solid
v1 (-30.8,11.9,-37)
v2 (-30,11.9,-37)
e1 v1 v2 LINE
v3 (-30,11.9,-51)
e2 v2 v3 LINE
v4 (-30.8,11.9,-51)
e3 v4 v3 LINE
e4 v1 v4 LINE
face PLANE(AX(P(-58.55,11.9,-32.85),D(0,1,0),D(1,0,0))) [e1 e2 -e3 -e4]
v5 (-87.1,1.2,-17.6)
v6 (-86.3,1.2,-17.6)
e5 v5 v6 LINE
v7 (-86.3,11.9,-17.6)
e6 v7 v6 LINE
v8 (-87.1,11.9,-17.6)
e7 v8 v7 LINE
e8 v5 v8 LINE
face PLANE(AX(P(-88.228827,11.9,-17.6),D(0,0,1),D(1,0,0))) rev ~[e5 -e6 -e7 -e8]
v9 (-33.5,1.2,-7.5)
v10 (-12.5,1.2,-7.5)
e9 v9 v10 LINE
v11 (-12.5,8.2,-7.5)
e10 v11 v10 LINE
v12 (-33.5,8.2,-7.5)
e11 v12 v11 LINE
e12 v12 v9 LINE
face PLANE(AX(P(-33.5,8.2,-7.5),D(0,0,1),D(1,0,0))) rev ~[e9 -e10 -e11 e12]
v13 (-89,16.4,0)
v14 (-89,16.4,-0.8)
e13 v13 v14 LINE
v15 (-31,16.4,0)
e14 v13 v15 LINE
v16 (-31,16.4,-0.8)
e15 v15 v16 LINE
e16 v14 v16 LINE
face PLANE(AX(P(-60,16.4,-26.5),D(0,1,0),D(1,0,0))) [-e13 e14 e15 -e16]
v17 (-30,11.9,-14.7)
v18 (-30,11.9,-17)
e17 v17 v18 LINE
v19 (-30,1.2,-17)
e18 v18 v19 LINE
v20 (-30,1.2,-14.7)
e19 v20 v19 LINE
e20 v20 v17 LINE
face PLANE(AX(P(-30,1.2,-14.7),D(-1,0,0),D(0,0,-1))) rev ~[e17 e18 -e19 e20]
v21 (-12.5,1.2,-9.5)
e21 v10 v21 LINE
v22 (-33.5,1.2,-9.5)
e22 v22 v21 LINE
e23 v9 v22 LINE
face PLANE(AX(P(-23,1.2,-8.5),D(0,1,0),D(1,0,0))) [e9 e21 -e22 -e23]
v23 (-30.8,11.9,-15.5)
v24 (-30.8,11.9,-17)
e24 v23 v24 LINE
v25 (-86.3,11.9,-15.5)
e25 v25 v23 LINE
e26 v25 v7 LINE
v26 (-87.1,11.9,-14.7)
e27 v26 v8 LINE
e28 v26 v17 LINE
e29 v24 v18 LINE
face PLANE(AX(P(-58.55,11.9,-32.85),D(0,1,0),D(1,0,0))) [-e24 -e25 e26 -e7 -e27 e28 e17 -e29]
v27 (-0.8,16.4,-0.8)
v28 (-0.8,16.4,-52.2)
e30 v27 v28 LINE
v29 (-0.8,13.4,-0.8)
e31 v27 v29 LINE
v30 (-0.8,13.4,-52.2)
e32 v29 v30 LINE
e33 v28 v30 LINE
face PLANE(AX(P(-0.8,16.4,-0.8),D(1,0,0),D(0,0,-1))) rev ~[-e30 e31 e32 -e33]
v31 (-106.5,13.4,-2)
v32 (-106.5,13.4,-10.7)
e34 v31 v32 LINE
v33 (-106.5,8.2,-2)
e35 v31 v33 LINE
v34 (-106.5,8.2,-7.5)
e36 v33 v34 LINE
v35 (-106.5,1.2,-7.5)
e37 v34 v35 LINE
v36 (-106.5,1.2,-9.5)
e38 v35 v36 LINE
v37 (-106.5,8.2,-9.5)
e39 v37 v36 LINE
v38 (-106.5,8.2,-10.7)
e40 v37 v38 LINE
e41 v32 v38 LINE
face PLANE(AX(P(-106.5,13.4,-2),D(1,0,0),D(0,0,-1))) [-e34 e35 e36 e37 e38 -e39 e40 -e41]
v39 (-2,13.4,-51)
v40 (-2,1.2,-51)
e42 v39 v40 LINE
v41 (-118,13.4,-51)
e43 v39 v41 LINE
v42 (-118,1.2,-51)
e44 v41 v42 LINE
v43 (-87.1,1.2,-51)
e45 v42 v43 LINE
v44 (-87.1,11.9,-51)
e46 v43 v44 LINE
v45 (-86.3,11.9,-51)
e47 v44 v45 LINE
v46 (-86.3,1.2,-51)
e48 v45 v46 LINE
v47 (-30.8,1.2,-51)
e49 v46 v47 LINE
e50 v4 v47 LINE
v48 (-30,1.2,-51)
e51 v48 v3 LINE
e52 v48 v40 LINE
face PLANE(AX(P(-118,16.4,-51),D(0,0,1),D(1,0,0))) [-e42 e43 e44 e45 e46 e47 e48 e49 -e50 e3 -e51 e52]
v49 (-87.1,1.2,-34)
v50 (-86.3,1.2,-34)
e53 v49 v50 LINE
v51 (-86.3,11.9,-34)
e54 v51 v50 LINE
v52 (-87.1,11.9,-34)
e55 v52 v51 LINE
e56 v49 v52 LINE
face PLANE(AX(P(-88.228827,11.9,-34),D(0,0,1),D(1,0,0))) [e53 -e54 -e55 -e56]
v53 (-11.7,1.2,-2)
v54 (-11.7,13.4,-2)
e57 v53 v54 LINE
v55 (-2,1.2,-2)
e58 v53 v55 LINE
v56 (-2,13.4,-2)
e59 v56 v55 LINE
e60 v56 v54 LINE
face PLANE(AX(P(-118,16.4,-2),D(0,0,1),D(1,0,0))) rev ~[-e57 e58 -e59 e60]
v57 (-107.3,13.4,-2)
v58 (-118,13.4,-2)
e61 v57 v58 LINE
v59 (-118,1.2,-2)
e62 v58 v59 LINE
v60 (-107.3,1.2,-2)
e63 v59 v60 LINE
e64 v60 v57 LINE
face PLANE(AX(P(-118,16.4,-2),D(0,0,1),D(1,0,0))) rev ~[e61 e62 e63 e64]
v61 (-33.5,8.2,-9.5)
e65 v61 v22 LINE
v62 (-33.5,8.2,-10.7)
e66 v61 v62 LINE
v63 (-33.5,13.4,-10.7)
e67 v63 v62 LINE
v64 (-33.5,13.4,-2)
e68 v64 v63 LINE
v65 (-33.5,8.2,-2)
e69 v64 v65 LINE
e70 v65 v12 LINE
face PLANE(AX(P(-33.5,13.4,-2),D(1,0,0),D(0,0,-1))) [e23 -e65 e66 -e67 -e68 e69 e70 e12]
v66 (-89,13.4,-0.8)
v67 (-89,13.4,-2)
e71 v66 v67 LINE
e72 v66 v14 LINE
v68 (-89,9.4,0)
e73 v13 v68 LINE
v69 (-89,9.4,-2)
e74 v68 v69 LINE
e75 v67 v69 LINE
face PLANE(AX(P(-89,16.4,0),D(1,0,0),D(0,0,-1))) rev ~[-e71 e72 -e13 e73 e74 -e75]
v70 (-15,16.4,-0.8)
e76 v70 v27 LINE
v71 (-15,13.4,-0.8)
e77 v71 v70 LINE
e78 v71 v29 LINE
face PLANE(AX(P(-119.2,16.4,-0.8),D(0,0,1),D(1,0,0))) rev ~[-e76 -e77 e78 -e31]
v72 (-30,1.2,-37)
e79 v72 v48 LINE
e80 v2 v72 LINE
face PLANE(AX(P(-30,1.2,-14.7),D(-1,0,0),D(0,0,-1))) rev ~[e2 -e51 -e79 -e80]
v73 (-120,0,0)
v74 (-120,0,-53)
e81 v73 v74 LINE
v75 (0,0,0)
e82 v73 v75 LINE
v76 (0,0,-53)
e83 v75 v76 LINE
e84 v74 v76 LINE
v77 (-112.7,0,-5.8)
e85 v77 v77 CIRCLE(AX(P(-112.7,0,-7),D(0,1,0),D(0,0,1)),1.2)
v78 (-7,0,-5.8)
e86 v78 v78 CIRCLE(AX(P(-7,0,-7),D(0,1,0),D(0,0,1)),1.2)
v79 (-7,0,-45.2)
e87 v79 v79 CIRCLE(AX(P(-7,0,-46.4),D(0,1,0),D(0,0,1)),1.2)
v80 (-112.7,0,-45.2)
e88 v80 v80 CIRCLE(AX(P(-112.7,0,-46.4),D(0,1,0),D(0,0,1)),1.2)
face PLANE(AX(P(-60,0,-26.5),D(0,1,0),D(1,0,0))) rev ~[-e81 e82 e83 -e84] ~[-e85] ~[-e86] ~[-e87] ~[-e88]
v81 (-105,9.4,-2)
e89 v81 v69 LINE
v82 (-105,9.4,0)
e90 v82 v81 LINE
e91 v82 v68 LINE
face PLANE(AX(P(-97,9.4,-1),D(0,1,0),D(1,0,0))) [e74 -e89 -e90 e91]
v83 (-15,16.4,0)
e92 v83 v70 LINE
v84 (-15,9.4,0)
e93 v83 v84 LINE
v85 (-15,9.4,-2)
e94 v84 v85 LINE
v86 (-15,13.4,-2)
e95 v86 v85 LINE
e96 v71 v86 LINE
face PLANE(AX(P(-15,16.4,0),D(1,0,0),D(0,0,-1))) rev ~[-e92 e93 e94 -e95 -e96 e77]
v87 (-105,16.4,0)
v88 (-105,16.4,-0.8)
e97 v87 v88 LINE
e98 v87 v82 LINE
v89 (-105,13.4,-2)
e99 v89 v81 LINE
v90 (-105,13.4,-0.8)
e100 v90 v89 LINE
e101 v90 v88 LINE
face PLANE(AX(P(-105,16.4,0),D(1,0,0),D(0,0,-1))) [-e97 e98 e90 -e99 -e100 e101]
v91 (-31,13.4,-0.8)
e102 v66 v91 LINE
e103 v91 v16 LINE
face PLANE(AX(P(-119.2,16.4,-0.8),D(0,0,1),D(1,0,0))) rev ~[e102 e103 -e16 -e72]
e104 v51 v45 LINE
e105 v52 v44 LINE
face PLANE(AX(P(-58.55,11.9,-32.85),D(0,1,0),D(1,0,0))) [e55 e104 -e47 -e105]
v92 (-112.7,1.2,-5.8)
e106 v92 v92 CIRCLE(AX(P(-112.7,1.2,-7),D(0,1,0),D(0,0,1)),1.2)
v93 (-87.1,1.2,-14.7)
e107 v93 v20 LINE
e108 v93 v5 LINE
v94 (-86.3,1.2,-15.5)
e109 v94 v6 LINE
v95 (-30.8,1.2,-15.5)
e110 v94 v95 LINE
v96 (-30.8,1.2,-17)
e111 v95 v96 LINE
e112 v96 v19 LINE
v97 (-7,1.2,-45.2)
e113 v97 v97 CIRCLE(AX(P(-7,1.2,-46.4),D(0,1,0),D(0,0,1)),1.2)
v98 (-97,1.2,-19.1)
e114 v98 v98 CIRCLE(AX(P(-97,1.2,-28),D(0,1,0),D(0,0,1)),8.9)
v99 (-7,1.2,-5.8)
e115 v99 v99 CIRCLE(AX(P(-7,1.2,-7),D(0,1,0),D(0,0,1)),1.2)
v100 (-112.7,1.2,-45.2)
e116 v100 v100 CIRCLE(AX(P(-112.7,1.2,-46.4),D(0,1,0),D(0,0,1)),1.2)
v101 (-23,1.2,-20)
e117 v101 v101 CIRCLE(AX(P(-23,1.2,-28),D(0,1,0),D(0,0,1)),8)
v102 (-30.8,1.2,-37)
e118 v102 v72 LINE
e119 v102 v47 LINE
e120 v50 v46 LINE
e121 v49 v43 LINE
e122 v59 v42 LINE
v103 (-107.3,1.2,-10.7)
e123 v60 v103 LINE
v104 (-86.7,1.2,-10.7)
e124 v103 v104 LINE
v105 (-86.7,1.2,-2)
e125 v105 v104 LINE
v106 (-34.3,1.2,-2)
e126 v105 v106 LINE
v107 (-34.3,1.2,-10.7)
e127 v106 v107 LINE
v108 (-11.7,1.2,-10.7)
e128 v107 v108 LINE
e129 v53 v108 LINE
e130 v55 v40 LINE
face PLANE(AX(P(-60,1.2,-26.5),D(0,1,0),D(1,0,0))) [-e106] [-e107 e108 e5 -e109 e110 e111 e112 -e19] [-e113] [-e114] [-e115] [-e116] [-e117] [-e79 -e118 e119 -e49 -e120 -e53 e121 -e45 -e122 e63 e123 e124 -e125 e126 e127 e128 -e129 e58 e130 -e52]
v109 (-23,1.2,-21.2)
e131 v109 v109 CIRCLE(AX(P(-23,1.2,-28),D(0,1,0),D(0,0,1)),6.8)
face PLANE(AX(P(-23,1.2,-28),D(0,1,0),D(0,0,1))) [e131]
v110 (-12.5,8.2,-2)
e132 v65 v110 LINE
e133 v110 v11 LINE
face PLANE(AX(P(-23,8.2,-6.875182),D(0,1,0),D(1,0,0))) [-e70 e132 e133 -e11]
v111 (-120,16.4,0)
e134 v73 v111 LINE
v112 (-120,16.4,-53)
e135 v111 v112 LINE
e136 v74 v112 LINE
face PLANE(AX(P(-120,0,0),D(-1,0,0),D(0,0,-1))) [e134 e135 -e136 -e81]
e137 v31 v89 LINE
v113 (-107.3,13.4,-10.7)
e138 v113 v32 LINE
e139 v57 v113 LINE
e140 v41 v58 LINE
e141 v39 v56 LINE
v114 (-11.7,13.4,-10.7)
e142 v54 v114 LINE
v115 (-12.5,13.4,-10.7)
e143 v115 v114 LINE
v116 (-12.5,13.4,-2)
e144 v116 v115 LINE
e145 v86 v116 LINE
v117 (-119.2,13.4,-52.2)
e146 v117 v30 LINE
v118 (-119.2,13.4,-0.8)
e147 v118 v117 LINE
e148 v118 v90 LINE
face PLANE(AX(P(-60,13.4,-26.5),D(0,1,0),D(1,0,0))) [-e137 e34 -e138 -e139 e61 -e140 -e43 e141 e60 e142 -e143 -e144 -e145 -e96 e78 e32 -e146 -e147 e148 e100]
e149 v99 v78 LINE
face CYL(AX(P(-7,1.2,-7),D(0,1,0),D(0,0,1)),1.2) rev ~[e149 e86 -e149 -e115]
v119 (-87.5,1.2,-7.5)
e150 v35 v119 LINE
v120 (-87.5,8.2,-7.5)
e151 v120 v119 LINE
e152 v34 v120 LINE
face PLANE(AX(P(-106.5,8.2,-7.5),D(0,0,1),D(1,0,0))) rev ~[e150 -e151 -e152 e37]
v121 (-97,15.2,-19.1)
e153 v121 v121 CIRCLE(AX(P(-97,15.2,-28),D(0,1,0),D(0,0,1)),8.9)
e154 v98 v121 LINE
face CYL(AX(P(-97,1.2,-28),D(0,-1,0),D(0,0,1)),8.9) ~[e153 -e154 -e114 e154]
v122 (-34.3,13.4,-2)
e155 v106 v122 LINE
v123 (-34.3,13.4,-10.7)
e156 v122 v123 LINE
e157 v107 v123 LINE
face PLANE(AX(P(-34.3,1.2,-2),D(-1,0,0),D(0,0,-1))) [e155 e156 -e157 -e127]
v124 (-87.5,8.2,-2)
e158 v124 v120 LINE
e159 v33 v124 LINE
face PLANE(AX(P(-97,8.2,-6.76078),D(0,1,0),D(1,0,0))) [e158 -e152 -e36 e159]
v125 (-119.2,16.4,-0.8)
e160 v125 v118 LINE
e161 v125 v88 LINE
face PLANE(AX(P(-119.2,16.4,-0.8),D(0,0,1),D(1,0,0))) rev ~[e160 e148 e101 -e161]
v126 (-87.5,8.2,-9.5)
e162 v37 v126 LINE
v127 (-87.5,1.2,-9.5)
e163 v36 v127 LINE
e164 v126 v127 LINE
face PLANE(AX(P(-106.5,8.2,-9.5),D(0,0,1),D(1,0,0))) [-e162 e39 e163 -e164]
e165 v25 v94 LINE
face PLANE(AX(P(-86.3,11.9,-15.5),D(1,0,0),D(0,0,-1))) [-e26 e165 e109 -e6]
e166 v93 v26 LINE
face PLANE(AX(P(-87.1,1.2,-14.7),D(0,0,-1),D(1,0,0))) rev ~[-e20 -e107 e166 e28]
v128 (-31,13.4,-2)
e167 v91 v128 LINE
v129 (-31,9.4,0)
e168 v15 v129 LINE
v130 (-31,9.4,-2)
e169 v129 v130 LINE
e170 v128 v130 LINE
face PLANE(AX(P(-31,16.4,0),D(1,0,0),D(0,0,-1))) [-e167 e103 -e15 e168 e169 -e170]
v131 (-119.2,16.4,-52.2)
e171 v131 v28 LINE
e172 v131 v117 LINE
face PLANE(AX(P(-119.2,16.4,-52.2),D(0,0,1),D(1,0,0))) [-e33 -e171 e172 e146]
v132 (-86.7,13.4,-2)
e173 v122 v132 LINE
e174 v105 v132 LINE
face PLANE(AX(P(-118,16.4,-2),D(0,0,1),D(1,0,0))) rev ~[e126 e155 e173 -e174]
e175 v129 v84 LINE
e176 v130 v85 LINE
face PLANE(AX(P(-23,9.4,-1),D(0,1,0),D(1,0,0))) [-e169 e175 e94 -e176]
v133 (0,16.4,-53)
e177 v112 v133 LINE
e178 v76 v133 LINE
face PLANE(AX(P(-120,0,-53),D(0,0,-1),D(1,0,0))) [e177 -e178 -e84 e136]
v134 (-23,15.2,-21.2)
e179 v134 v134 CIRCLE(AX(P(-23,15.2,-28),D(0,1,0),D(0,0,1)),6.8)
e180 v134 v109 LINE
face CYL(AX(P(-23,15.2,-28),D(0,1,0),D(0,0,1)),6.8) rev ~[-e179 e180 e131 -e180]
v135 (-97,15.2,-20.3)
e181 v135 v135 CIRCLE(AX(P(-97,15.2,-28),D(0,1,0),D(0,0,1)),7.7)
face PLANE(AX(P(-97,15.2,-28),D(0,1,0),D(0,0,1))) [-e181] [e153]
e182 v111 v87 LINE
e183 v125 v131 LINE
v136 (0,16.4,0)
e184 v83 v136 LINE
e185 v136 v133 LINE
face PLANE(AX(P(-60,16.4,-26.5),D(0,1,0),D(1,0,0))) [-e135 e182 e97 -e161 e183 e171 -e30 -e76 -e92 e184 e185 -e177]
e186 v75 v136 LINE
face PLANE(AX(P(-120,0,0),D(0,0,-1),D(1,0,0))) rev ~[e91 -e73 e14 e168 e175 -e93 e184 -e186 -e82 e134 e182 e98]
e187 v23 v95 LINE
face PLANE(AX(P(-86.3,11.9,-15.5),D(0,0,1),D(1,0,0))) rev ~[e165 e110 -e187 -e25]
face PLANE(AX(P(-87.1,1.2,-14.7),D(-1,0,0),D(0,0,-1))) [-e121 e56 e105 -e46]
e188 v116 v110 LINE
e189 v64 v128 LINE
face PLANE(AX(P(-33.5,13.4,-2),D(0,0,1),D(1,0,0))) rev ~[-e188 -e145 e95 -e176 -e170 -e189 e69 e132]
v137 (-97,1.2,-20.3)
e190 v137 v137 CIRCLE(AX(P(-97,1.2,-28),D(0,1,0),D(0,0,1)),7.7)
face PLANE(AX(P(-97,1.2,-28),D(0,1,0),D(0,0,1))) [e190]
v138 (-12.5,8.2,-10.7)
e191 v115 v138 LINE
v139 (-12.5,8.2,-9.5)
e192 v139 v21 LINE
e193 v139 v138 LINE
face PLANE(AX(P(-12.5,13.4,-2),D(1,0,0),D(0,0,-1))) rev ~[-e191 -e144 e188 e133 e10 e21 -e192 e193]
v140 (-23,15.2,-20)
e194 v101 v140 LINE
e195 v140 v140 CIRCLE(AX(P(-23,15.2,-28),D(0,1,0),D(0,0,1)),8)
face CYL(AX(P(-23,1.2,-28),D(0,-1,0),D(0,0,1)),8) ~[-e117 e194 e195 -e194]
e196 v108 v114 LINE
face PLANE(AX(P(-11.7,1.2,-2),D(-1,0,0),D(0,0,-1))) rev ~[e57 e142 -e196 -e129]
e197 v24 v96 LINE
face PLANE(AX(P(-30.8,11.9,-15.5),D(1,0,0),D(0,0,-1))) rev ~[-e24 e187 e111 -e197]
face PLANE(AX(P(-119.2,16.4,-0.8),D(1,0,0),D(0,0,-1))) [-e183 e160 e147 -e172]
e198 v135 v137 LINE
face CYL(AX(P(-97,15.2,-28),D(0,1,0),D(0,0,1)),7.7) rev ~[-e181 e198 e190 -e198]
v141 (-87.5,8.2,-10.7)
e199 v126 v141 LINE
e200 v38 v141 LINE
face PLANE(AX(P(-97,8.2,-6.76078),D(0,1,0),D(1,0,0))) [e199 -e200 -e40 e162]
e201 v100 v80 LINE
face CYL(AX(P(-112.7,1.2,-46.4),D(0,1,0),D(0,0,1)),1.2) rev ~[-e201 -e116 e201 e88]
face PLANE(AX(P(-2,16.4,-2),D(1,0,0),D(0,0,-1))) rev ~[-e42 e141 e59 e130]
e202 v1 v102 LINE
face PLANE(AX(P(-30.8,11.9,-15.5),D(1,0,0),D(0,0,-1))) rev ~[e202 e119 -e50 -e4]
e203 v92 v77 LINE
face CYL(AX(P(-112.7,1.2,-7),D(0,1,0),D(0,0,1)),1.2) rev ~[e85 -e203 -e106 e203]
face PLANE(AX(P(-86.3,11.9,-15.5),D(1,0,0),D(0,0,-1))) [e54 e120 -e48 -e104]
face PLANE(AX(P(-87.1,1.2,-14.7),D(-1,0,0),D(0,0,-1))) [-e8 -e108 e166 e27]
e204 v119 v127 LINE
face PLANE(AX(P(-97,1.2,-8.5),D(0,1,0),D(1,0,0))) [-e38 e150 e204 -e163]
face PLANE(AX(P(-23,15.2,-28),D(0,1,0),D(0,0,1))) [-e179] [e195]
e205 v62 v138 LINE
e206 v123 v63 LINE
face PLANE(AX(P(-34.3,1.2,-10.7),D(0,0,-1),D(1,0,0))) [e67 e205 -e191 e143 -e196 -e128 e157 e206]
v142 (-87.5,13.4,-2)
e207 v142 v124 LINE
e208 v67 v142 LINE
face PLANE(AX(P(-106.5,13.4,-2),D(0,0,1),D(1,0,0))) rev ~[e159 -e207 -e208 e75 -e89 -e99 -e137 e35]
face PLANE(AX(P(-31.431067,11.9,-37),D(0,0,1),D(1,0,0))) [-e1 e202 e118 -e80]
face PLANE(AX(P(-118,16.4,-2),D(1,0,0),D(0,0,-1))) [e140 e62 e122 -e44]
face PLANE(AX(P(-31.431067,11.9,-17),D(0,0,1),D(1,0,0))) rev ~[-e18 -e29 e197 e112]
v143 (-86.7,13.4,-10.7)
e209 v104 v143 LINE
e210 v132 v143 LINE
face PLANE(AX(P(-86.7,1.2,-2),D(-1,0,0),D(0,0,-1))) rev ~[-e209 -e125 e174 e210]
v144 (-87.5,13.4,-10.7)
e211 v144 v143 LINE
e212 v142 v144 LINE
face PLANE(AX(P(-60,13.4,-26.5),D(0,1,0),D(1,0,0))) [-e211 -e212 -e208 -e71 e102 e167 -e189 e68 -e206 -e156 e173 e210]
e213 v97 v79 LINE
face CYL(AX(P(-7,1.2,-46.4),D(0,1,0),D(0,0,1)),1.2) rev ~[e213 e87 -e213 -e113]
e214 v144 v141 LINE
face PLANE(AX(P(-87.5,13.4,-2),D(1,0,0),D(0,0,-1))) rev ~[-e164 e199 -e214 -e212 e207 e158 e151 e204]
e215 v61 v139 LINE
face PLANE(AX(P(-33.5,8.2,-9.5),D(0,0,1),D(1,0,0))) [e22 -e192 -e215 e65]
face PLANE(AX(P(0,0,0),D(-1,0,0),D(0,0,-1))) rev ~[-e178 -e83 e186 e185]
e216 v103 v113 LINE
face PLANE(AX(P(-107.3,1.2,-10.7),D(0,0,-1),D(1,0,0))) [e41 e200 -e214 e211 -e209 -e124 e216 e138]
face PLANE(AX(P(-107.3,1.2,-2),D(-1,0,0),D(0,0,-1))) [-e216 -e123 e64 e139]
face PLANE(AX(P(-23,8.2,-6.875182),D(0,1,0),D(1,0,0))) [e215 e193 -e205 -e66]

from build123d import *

# Parameters (mm, degrees)
SKETCH_1_W           = 120
SKETCH_1_H           = 53
EXTRUDE_2_DEPTH      = 16.4
SKETCH_4_W           = 116
SKETCH_4_H           = 49
CUT_EXTRUDE_5_DEPTH  = 15.2
SKETCH_5_W           = 118.4
SKETCH_5_H           = 51.4
CUT_EXTRUDE_6_DEPTH  = 3
SKETCH_6_W           = 57.1
SKETCH_6_H           = 36.3
EXTRUDE_3_DEPTH      = 10.7
SKETCH_7_W           = 55.5
SKETCH_7_H           = 35.5
CUT_EXTRUDE_7_DEPTH  = 10.7
SKETCH_8_W           = 3.401063497
SKETCH_8_H           = 16.4
CUT_EXTRUDE_8_DEPTH  = 10.7
SKETCH_9_R           = 8.9
EXTRUDE_4_DEPTH      = 14
SKETCH_10_R          = 7.7
CUT_EXTRUDE_9_DEPTH  = 14
SKETCH_12_W          = 1.431066628
SKETCH_12_H          = 20
CUT_EXTRUDE_10_DEPTH = 10.7
SKETCH_11_R          = 8
EXTRUDE_8_DEPTH      = 14
SKETCH_13_R          = 6.8
CUT_EXTRUDE_11_DEPTH = 14
SKETCH_14_W          = 22.6
SKETCH_14_H          = 8.7
EXTRUDE_9_DEPTH      = 12.2
SKETCH_15_W          = 21
SKETCH_15_H          = 9.750364289
CUT_EXTRUDE_12_DEPTH = 5.2
SKETCH_16_W          = 16
SKETCH_16_H          = 2
CUT_EXTRUDE_13_DEPTH = 7
SKETCH_18_W          = 21
SKETCH_18_H          = 2
CUT_EXTRUDE_14_DEPTH = 7
SKETCH_19_W          = 20.6
SKETCH_19_H          = 8.7
EXTRUDE_10_DEPTH     = 12.2
SKETCH_21_W          = 19
SKETCH_21_H          = 9.521560297
CUT_EXTRUDE_15_DEPTH = 5.2
SKETCH_23_W          = 16
SKETCH_23_H          = 2
CUT_EXTRUDE_16_DEPTH = 7
SKETCH_24_W          = 19
SKETCH_24_H          = 2
CUT_EXTRUDE_17_DEPTH = 7
SKETCH_25_R          = 1.2
CUT_EXTRUDE_18_DEPTH = 5
SKETCH_26_R          = 1.2
CUT_EXTRUDE_19_DEPTH = 5
SKETCH_27_R          = 1.2
CUT_EXTRUDE_20_DEPTH = 5
SKETCH_28_R          = 1.2
CUT_EXTRUDE_21_DEPTH = 5


with BuildPart() as part:
    # 草图1 → 凸台-拉伸2 (new body)
    with BuildSketch(Plane(origin=(0, 0, 0), x_dir=(1, 0, 0), z_dir=(0, 1, 0))):
        with Locations((-60, 26.5)):
            Rectangle(SKETCH_1_W, SKETCH_1_H)
    extrude(amount=EXTRUDE_2_DEPTH)

    # 草图4 → 切除-拉伸5 (cut)
    with BuildSketch(Plane(origin=(0, 16.4, 0), x_dir=(1, 0, 0), z_dir=(0, 1, 0))):
        with Locations((-60, 26.5)):
            Rectangle(SKETCH_4_W, SKETCH_4_H)
    extrude(amount=-CUT_EXTRUDE_5_DEPTH, mode=Mode.SUBTRACT)

    # 草图5 → 切除-拉伸6 (cut)
    with BuildSketch(Plane(origin=(0, 16.4, 0), x_dir=(1, 0, 0), z_dir=(0, 1, 0))):
        with Locations((-60, 26.5)):
            Rectangle(SKETCH_5_W, SKETCH_5_H)
    extrude(amount=-CUT_EXTRUDE_6_DEPTH, mode=Mode.SUBTRACT)

    # 草图6 → 凸台-拉伸3 (add)
    with BuildSketch(Plane(origin=(0, 1.2, 0), x_dir=(1, 0, 0), z_dir=(0, 1, 0))):
        with Locations((-58.55, 32.85)):
            Rectangle(SKETCH_6_W, SKETCH_6_H)
    extrude(amount=EXTRUDE_3_DEPTH)

    # 草图7 → 切除-拉伸7 (cut)
    with BuildSketch(Plane(origin=(0, 11.9, 0), x_dir=(1, 0, 0), z_dir=(0, 1, 0))):
        with Locations((-58.55, 33.25)):
            Rectangle(SKETCH_7_W, SKETCH_7_H)
    extrude(amount=-CUT_EXTRUDE_7_DEPTH, mode=Mode.SUBTRACT)

    # 草图8 → 切除-拉伸8 (cut)
    with BuildSketch(Plane(origin=(0, 11.9, 0), x_dir=(1, 0, 0), z_dir=(0, 1, 0))):
        with Locations((-86.528295274, 25.8)):
            Rectangle(SKETCH_8_W, SKETCH_8_H)
    extrude(amount=-CUT_EXTRUDE_8_DEPTH, mode=Mode.SUBTRACT)

    # 草图9 → 凸台-拉伸4 (add)
    with BuildSketch(Plane(origin=(0, 1.2, 0), x_dir=(1, 0, 0), z_dir=(0, 1, 0))):
        with Locations(Location((-97, 28, 0), (0, 0, 270))):
            Circle(SKETCH_9_R)
    extrude(amount=EXTRUDE_4_DEPTH)

    # 草图10 → 切除-拉伸9 (cut)
    with BuildSketch(Plane(origin=(0, 15.2, 0), x_dir=(1, 0, 0), z_dir=(0, 1, 0))):
        with Locations(Location((-97, 28, 0), (0, 0, 270))):
            Circle(SKETCH_10_R)
    extrude(amount=-CUT_EXTRUDE_9_DEPTH, mode=Mode.SUBTRACT)

    # 草图12 → 切除-拉伸10 (cut)
    with BuildSketch(Plane(origin=(0, 11.9, 0), x_dir=(1, 0, 0), z_dir=(0, 1, 0))):
        with Locations((-30.715533314, 27)):
            Rectangle(SKETCH_12_W, SKETCH_12_H)
    extrude(amount=-CUT_EXTRUDE_10_DEPTH, mode=Mode.SUBTRACT)

    # 草图11 → 凸台-拉伸8 (add)
    with BuildSketch(Plane(origin=(0, 1.2, 0), x_dir=(1, 0, 0), z_dir=(0, 1, 0))):
        with Locations(Location((-23, 28, 0), (0, 0, 270))):
            Circle(SKETCH_11_R)
    extrude(amount=EXTRUDE_8_DEPTH)

    # 草图13 → 切除-拉伸11 (cut)
    with BuildSketch(Plane(origin=(0, 15.2, 0), x_dir=(1, 0, 0), z_dir=(0, 1, 0))):
        with Locations(Location((-23, 28, 0), (0, 0, 270))):
            Circle(SKETCH_13_R)
    extrude(amount=-CUT_EXTRUDE_11_DEPTH, mode=Mode.SUBTRACT)

    # 草图14 → 凸台-拉伸9 (add)
    with BuildSketch(Plane(origin=(0, 1.2, 0), x_dir=(1, 0, 0), z_dir=(0, 1, 0))):
        with Locations((-23, 6.35)):
            Rectangle(SKETCH_14_W, SKETCH_14_H)
    extrude(amount=EXTRUDE_9_DEPTH)

    # 草图15 → 切除-拉伸12 (cut)
    with BuildSketch(Plane(origin=(0, 13.4, 0), x_dir=(1, 0, 0), z_dir=(0, 1, 0))):
        with Locations((-23, 6.875182145)):
            Rectangle(SKETCH_15_W, SKETCH_15_H)
    extrude(amount=-CUT_EXTRUDE_12_DEPTH, mode=Mode.SUBTRACT)

    # 草图16 → 切除-拉伸13 (cut)
    with BuildSketch(Plane(origin=(0, 16.4, 0), x_dir=(1, 0, 0), z_dir=(0, 1, 0))):
        with Locations((-23, 1)):
            Rectangle(SKETCH_16_W, SKETCH_16_H)
    extrude(amount=-CUT_EXTRUDE_13_DEPTH, mode=Mode.SUBTRACT)

    # 草图18 → 切除-拉伸14 (cut)
    with BuildSketch(Plane(origin=(0, 8.2, 0), x_dir=(1, 0, 0), z_dir=(0, 1, 0))):
        with Locations((-23, 8.5)):
            Rectangle(SKETCH_18_W, SKETCH_18_H)
    extrude(amount=-CUT_EXTRUDE_14_DEPTH, mode=Mode.SUBTRACT)

    # 草图19 → 凸台-拉伸10 (add)
    with BuildSketch(Plane(origin=(0, 1.2, 0), x_dir=(1, 0, 0), z_dir=(0, 1, 0))):
        with Locations((-97, 6.35)):
            Rectangle(SKETCH_19_W, SKETCH_19_H)
    extrude(amount=EXTRUDE_10_DEPTH)

    # 草图21 → 切除-拉伸15 (cut)
    with BuildSketch(Plane(origin=(0, 13.4, 0), x_dir=(1, 0, 0), z_dir=(0, 1, 0))):
        with Locations((-97, 6.760780149)):
            Rectangle(SKETCH_21_W, SKETCH_21_H)
    extrude(amount=-CUT_EXTRUDE_15_DEPTH, mode=Mode.SUBTRACT)

    # 草图23 → 切除-拉伸16 (cut)
    with BuildSketch(Plane(origin=(0, 16.4, 0), x_dir=(1, 0, 0), z_dir=(0, 1, 0))):
        with Locations((-97, 1)):
            Rectangle(SKETCH_23_W, SKETCH_23_H)
    extrude(amount=-CUT_EXTRUDE_16_DEPTH, mode=Mode.SUBTRACT)

    # 草图24 → 切除-拉伸17 (cut)
    with BuildSketch(Plane(origin=(0, 8.2, 0), x_dir=(1, 0, 0), z_dir=(0, 1, 0))):
        with Locations((-97, 8.5)):
            Rectangle(SKETCH_24_W, SKETCH_24_H)
    extrude(amount=-CUT_EXTRUDE_17_DEPTH, mode=Mode.SUBTRACT)

    # 草图25 → 切除-拉伸18 (cut)
    with BuildSketch(Plane(origin=(0, 1.2, 0), x_dir=(1, 0, 0), z_dir=(0, 1, 0))):
        with Locations(Location((-7, 7, 0), (0, 0, 270))):
            Circle(SKETCH_25_R)
    extrude(amount=-CUT_EXTRUDE_18_DEPTH, mode=Mode.SUBTRACT)

    # 草图26 → 切除-拉伸19 (cut)
    with BuildSketch(Plane(origin=(0, 1.2, 0), x_dir=(1, 0, 0), z_dir=(0, 1, 0))):
        with Locations(Location((-7, 46.4, 0), (0, 0, 270))):
            Circle(SKETCH_26_R)
    extrude(amount=-CUT_EXTRUDE_19_DEPTH, mode=Mode.SUBTRACT)

    # 草图27 → 切除-拉伸20 (cut)
    with BuildSketch(Plane(origin=(0, 1.2, 0), x_dir=(1, 0, 0), z_dir=(0, 1, 0))):
        with Locations(Location((-112.7, 7, 0), (0, 0, 270))):
            Circle(SKETCH_27_R)
    extrude(amount=-CUT_EXTRUDE_20_DEPTH, mode=Mode.SUBTRACT)

    # 草图28 → 切除-拉伸21 (cut)
    with BuildSketch(Plane(origin=(0, 1.2, 0), x_dir=(1, 0, 0), z_dir=(0, 1, 0))):
        with Locations(Location((-112.7, 46.4, 0), (0, 0, 270))):
            Circle(SKETCH_28_R)
    extrude(amount=-CUT_EXTRUDE_21_DEPTH, mode=Mode.SUBTRACT)


solid = part.part
